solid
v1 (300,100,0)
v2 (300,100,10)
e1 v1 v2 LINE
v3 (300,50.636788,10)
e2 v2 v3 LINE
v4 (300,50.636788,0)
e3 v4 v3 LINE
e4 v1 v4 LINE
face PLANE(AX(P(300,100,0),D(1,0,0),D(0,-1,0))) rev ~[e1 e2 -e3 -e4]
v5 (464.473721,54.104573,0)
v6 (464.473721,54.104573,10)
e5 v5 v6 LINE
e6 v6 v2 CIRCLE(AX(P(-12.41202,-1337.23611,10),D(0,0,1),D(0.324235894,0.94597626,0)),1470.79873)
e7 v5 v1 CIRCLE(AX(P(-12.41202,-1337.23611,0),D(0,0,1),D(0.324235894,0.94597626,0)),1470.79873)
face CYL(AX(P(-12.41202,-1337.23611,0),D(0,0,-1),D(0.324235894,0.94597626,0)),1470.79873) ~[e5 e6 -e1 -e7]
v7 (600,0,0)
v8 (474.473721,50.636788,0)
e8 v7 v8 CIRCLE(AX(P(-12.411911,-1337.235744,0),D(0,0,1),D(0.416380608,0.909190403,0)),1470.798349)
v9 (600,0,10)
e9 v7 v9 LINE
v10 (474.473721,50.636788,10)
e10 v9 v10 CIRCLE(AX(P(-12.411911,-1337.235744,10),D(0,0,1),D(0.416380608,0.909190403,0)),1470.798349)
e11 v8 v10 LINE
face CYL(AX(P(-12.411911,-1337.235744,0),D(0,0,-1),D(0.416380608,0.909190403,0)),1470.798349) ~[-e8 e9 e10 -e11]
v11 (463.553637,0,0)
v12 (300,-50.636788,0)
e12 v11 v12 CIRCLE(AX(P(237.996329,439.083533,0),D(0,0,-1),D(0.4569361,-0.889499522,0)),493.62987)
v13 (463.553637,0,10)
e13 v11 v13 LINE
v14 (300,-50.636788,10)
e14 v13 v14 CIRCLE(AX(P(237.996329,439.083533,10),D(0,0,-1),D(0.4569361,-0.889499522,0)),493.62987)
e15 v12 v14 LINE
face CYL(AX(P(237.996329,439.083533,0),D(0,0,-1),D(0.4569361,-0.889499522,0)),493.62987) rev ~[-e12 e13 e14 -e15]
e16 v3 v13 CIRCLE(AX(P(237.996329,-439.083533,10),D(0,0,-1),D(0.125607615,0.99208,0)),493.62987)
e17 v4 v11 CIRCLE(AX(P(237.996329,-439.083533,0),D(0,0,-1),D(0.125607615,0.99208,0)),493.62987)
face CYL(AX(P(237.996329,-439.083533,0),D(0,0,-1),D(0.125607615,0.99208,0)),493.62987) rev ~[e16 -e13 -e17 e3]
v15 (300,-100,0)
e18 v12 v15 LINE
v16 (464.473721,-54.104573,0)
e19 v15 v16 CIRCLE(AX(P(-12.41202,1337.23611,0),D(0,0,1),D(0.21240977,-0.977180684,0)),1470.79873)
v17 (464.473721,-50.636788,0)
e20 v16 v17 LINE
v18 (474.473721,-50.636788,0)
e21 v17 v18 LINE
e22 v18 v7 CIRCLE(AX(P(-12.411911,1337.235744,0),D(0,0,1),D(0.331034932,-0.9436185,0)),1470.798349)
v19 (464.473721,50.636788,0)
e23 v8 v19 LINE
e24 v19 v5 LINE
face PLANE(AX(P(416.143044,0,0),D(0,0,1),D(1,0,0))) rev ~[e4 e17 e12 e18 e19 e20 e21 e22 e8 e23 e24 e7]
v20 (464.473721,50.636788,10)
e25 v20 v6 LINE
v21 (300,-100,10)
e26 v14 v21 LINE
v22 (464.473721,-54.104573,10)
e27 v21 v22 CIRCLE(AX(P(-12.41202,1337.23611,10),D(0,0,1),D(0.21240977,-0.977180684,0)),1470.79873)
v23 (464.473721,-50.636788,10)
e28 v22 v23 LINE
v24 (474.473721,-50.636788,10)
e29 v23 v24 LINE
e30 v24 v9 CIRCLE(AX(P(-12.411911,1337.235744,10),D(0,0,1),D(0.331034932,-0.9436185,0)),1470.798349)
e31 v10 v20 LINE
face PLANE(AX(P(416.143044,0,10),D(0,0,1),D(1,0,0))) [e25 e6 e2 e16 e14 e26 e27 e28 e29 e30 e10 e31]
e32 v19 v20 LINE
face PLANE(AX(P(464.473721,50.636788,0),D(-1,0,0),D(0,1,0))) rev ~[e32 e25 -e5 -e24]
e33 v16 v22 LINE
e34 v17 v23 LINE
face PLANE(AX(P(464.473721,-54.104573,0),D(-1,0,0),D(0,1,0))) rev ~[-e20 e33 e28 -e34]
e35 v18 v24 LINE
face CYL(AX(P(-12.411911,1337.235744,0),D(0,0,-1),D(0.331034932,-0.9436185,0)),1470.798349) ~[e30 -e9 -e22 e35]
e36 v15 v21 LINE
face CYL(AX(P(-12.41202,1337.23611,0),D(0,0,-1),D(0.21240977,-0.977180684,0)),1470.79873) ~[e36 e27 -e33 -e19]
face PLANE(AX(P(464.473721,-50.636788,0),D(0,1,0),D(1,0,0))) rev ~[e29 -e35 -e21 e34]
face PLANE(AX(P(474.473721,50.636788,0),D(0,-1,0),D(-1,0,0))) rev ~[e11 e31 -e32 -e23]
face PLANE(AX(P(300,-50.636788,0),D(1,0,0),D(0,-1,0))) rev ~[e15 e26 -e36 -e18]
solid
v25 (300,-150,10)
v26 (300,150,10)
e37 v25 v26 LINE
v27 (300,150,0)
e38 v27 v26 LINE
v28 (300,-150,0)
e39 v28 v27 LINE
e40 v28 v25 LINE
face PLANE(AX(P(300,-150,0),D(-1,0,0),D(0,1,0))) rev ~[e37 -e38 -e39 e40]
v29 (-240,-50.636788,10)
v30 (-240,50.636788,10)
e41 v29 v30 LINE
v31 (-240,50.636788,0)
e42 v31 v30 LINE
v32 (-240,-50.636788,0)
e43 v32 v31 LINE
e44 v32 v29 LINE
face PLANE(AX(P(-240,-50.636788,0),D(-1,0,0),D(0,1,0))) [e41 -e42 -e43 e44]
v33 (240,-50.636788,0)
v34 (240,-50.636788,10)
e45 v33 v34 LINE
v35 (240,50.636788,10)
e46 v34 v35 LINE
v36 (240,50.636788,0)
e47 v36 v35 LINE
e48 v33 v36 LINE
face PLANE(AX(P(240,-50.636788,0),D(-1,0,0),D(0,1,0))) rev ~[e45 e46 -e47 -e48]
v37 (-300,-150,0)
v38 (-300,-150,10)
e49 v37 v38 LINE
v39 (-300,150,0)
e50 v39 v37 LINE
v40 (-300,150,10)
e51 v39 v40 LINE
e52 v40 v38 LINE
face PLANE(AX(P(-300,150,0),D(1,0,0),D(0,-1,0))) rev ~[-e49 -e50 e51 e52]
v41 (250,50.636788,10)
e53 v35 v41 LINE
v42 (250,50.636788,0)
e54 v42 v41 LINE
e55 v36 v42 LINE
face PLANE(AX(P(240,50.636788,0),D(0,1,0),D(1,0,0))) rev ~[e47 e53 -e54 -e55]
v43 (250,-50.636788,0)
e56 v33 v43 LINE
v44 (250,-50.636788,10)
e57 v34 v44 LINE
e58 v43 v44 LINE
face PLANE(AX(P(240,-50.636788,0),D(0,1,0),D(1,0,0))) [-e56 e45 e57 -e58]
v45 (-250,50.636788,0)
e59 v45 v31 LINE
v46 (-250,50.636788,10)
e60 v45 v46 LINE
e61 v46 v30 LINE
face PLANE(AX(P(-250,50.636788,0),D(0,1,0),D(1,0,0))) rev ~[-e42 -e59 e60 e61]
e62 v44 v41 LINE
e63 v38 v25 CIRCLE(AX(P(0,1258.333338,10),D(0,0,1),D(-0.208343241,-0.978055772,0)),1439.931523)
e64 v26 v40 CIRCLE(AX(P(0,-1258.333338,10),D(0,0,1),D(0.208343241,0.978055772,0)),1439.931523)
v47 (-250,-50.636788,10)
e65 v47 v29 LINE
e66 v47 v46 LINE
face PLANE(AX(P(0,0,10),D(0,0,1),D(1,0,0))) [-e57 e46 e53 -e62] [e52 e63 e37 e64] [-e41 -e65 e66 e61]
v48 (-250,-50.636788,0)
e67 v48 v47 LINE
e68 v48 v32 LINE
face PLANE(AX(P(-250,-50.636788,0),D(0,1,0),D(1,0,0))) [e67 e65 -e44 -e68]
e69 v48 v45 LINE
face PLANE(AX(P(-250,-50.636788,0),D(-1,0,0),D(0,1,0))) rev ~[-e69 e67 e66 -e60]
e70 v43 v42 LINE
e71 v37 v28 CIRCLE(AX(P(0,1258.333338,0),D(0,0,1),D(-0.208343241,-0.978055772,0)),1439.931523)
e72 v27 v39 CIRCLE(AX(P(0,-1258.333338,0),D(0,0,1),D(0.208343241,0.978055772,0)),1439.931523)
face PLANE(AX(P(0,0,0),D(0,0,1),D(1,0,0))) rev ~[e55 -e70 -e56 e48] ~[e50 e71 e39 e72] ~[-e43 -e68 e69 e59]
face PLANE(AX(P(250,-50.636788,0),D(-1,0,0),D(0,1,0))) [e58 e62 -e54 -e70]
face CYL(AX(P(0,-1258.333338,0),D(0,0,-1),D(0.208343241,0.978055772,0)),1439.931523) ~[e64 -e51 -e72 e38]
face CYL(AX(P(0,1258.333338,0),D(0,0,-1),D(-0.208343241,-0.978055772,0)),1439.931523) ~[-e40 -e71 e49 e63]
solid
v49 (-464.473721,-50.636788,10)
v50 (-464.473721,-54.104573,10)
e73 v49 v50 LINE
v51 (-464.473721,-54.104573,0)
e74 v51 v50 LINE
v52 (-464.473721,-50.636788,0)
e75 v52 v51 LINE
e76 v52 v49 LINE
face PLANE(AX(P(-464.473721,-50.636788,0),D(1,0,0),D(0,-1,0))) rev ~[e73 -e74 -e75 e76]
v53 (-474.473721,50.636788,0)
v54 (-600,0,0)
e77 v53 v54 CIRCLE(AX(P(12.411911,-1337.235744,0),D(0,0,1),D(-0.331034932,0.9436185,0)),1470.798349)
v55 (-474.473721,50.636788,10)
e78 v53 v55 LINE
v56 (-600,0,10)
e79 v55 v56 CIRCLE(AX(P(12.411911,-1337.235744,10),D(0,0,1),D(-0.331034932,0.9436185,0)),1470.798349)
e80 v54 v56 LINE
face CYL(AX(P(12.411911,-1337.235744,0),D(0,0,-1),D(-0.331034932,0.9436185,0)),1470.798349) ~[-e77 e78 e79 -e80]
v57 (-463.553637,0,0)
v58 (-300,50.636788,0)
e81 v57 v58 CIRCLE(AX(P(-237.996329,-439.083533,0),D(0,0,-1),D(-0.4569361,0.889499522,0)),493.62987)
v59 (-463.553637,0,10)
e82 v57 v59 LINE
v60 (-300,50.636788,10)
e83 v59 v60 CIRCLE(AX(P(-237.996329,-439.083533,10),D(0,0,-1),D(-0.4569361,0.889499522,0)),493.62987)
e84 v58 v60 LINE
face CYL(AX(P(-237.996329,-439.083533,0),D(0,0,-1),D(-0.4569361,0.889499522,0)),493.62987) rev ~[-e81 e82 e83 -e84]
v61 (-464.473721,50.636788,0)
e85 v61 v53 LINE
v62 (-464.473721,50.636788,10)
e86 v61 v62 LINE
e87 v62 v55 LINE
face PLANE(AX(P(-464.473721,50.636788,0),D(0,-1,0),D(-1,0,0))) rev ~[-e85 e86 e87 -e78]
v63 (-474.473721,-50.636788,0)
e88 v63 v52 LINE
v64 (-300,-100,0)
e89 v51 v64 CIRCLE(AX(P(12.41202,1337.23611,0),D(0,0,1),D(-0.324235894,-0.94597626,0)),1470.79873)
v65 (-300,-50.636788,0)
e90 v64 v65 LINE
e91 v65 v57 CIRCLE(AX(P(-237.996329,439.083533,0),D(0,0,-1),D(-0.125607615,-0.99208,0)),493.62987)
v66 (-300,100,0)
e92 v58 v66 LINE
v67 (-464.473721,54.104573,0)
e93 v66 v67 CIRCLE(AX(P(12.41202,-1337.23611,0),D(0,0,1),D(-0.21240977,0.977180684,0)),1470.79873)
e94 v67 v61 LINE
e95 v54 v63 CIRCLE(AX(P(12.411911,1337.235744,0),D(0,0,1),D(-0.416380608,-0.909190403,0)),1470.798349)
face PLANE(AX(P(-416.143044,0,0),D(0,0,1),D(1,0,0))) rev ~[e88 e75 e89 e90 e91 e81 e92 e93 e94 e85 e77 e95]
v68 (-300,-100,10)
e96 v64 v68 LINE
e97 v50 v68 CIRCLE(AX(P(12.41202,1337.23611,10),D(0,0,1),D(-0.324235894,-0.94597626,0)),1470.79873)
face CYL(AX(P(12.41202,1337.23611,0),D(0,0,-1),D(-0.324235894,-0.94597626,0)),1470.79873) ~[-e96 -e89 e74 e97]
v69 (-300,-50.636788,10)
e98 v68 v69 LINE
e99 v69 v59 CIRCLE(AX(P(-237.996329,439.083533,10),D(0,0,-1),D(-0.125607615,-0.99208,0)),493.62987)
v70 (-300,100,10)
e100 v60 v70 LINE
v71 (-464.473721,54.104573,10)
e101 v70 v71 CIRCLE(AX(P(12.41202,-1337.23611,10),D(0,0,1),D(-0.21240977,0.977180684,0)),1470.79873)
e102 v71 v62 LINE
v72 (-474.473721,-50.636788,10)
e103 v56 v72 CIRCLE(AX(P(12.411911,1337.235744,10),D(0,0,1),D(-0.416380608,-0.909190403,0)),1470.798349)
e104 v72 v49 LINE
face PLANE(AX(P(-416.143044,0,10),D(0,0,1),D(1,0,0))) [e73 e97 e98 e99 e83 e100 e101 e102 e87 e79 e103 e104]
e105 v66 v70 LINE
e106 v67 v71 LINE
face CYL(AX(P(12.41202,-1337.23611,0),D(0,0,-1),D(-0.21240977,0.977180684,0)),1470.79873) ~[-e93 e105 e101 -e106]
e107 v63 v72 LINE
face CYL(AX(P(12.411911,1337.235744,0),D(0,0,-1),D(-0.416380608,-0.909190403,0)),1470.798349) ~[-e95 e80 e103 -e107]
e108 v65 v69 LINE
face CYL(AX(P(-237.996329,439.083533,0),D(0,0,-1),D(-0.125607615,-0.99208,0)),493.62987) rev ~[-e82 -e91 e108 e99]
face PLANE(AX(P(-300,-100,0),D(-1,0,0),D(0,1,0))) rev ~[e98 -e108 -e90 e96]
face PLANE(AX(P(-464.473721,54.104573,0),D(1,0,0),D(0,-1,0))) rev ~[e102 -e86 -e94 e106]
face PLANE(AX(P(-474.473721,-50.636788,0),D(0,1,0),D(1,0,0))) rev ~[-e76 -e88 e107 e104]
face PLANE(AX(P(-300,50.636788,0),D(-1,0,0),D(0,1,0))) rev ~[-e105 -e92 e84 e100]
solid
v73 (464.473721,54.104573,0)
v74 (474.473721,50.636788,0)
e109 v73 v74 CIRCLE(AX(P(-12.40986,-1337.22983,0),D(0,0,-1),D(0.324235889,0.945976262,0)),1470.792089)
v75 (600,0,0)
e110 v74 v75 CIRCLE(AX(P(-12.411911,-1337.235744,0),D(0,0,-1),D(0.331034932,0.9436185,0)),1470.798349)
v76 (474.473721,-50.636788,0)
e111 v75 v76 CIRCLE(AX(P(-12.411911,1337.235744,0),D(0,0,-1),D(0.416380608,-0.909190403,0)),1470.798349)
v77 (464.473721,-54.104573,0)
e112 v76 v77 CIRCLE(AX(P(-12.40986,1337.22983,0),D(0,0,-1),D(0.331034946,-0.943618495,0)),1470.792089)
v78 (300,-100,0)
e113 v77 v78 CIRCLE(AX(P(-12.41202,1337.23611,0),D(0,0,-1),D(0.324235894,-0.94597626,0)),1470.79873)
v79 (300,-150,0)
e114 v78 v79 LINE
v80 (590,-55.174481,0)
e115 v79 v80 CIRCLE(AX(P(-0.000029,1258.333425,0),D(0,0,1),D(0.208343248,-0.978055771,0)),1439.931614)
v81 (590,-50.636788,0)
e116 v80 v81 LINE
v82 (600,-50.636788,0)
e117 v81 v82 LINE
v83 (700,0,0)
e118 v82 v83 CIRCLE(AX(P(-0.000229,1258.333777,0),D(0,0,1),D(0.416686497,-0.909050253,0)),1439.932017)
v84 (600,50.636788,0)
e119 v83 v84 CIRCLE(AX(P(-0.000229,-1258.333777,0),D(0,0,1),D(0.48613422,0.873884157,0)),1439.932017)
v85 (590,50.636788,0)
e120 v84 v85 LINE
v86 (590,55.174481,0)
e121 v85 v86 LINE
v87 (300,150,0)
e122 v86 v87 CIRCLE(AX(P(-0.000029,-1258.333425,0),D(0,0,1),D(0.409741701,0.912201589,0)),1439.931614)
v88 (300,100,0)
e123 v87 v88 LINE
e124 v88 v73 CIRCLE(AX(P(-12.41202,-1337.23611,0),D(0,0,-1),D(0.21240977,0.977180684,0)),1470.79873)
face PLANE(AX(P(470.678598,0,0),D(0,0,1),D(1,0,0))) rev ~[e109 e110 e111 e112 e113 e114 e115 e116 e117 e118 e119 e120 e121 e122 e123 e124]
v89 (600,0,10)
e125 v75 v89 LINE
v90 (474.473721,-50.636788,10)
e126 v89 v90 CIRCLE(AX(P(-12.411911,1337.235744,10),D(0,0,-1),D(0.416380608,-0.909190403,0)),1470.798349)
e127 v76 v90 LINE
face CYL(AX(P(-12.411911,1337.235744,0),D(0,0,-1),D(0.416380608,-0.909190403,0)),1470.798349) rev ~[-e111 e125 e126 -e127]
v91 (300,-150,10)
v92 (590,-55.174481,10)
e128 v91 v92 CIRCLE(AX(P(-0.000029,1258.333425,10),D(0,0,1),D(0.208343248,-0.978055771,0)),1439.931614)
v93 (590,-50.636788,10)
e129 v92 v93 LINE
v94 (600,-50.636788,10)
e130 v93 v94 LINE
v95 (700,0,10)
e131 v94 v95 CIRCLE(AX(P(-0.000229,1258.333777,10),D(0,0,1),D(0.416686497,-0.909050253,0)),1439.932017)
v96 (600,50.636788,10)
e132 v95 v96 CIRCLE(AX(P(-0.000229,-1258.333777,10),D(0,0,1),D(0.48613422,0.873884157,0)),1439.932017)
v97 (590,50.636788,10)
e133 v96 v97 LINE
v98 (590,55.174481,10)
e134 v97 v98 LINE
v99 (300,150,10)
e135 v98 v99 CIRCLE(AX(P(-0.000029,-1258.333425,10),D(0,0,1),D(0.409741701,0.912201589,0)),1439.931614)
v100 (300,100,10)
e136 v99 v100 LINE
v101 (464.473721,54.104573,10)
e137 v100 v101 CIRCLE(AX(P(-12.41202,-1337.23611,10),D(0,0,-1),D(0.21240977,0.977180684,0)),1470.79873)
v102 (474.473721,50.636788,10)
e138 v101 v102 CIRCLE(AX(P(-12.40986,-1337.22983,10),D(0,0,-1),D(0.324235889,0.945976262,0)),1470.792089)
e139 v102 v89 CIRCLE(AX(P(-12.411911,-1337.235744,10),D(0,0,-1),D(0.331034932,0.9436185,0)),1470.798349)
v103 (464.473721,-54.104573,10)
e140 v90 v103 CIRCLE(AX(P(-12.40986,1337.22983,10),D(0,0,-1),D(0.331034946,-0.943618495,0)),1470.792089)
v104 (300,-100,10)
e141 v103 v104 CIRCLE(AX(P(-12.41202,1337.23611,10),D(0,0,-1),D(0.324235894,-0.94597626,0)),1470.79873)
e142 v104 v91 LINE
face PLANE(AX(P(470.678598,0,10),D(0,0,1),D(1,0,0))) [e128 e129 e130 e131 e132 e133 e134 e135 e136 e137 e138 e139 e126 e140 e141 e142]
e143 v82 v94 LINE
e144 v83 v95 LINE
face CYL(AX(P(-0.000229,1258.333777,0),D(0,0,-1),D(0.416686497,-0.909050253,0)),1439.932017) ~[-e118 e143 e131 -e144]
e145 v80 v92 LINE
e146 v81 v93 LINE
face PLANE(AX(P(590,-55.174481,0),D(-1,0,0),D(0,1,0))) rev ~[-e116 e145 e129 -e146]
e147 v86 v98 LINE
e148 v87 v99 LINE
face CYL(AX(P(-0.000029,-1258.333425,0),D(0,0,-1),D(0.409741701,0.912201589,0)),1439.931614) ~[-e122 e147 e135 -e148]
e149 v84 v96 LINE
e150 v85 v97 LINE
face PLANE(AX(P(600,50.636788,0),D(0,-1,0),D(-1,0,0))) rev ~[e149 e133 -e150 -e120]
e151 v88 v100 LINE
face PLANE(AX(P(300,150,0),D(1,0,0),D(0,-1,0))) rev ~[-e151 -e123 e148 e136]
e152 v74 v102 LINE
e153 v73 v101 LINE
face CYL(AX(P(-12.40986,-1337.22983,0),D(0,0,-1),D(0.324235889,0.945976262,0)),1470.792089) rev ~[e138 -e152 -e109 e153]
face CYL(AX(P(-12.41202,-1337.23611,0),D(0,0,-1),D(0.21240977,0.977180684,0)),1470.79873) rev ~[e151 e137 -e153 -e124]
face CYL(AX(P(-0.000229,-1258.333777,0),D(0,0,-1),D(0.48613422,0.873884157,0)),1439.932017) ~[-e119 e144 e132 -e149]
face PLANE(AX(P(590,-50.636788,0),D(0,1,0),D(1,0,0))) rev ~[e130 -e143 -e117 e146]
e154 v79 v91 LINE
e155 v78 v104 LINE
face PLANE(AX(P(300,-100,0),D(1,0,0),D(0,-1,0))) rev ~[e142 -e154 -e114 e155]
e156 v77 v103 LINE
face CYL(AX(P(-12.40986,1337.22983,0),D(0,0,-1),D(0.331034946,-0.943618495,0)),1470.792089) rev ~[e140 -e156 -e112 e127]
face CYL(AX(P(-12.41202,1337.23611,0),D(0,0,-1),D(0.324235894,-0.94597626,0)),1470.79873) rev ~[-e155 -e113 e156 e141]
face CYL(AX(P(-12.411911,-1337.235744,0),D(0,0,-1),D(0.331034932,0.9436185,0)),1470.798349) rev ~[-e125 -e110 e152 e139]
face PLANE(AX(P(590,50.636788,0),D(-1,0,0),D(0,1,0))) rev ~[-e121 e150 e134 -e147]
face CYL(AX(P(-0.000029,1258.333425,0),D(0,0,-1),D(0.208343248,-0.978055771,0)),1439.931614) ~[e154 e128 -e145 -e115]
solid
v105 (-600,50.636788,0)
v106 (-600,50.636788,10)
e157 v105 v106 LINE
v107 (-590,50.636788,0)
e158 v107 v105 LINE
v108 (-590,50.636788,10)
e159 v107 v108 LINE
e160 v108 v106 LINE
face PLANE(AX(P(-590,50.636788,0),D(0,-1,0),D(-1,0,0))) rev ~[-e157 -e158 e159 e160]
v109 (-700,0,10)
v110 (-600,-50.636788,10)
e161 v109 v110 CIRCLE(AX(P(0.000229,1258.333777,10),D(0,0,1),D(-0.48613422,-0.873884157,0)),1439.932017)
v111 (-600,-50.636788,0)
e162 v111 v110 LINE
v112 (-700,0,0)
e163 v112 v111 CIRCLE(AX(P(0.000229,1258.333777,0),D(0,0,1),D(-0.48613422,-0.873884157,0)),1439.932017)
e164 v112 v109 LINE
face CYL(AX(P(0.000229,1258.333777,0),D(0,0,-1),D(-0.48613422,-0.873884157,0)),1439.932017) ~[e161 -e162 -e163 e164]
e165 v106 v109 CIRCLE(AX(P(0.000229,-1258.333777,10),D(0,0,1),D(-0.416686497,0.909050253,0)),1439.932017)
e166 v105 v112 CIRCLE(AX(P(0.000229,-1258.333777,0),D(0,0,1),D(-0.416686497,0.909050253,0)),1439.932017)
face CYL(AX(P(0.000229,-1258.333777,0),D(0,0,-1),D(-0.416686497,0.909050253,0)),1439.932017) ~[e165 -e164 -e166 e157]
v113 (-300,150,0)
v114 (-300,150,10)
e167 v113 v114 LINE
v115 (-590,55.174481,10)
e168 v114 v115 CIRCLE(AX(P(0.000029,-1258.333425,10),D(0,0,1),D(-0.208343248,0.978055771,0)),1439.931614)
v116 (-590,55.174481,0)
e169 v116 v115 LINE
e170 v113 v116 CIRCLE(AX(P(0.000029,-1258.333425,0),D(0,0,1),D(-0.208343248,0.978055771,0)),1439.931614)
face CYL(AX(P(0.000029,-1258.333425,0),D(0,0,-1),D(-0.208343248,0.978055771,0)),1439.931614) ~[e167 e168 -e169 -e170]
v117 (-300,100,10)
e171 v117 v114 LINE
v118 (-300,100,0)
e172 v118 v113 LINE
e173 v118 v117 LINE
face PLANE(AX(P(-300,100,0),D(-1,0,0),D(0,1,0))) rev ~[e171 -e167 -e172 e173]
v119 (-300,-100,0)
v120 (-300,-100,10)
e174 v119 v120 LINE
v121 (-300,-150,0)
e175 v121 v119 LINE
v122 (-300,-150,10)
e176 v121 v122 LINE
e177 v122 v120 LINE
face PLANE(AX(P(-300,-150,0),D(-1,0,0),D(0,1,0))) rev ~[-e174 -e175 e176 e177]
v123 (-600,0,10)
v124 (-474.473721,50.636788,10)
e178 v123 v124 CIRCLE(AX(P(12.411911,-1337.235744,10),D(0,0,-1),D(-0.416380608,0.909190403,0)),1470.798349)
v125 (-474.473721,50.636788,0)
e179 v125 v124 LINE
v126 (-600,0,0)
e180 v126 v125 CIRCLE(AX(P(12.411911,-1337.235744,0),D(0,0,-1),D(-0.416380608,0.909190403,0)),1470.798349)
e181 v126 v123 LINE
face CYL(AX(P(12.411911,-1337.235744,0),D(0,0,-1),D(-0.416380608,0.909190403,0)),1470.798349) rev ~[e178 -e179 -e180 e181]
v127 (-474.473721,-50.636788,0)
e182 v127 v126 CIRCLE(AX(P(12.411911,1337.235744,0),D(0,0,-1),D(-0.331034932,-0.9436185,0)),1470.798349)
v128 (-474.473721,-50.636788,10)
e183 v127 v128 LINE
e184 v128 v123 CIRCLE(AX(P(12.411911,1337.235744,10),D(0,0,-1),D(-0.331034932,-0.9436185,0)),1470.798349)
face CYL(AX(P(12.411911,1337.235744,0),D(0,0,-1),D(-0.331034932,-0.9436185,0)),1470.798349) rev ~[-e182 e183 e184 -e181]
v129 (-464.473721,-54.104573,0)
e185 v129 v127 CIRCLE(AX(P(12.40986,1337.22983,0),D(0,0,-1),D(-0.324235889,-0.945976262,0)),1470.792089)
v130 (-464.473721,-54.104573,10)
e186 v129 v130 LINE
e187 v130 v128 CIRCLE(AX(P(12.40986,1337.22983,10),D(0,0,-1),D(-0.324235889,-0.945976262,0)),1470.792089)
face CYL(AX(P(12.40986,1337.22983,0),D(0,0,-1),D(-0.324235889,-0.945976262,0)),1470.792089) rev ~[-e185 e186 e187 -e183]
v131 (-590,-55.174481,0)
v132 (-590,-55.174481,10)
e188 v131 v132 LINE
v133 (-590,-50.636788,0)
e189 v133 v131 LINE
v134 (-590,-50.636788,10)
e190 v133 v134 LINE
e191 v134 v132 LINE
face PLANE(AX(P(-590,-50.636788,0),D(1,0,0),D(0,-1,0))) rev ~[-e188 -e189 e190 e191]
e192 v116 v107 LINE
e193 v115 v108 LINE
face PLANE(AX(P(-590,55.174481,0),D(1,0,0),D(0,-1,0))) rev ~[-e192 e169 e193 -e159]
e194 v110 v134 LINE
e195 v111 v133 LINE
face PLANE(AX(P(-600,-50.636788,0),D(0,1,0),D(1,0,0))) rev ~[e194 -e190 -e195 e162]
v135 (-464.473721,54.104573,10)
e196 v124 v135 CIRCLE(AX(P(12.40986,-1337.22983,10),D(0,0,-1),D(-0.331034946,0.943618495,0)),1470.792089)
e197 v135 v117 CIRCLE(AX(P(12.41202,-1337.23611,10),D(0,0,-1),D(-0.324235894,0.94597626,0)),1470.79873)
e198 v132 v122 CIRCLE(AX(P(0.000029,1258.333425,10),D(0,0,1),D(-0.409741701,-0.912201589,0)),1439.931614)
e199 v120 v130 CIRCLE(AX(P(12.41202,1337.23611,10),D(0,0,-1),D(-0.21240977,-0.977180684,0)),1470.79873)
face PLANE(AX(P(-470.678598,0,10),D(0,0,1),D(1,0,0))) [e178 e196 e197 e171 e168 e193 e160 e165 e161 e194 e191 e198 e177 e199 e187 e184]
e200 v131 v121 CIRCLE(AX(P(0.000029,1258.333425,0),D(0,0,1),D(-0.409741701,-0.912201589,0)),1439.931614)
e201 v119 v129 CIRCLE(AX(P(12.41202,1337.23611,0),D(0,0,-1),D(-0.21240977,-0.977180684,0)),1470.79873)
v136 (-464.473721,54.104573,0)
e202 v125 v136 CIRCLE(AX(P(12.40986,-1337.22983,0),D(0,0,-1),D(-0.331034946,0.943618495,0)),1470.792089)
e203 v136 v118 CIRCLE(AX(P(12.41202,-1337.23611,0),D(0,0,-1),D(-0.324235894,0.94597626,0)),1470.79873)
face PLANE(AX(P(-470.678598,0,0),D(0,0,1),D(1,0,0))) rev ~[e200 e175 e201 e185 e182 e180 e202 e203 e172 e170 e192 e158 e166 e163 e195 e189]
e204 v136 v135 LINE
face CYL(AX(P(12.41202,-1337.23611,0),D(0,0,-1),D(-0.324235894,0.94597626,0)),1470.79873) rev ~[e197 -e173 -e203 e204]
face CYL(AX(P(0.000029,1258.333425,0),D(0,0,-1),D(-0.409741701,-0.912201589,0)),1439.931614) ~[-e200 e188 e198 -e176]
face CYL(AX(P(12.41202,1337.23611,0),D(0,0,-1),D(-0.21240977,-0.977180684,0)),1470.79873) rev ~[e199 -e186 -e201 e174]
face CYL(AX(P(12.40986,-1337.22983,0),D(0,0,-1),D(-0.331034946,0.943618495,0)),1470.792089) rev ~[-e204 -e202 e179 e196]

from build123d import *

# Parameters (mm, degrees)
F1_DEPTH = 10
F0_W     = 10
F0_H     = 101.273576
F2_DEPTH = 10
F3_DEPTH = 10


with BuildPart() as f1:
    # F0 (on Top) → F1 (new body)
    with BuildSketch(Plane.XY):
        with BuildLine():
            ThreePointArc((590, 55.174481), (447.518681, 110.289992), (300, 150))
            Line((300, 150), (300, 100))
            ThreePointArc((300, 100), (382.90347, 79.441189), (464.473721, 54.104573))
            ThreePointArc((464.473721, 54.104573), (469.47684, 52.379676), (474.473721, 50.636788))
            ThreePointArc((474.473721, 50.636788), (537.81967, 26.763153), (600, 0))
            ThreePointArc((600, 0), (537.81967, -26.763153), (474.473721, -50.636788))
            ThreePointArc((474.473721, -50.636788), (469.47684, -52.379676), (464.473721, -54.104573))
            ThreePointArc((464.473721, -54.104573), (382.90347, -79.441189), (300, -100))
            Line((300, -100), (300, -150))
            ThreePointArc((300, -150), (447.518681, -110.289992), (590, -55.174481))
            Line((590, -55.174481), (590, -50.636788))
            Line((590, -50.636788), (600, -50.636788))
            ThreePointArc((600, -50.636788), (650.492906, -26.291809), (700, 0))
            ThreePointArc((700, 0), (650.492906, 26.291809), (600, 50.636788))
            Line((600, 50.636788), (590, 50.636788))
            Line((590, 50.636788), (590, 55.174481))
        make_face()
        with BuildLine():
            Line((-300, 100), (-300, 150))
            ThreePointArc((-300, 150), (-447.518681, 110.289992), (-590, 55.174481))
            Line((-590, 55.174481), (-590, 50.636788))
            Line((-590, 50.636788), (-600, 50.636788))
            ThreePointArc((-600, 50.636788), (-650.492906, 26.291809), (-700, 0))
            ThreePointArc((-700, 0), (-650.492906, -26.291809), (-600, -50.636788))
            Line((-600, -50.636788), (-590, -50.636788))
            Line((-590, -50.636788), (-590, -55.174481))
            ThreePointArc((-590, -55.174481), (-447.518681, -110.289992), (-300, -150))
            Line((-300, -150), (-300, -100))
            ThreePointArc((-300, -100), (-382.90347, -79.441189), (-464.473721, -54.104573))
            ThreePointArc((-464.473721, -54.104573), (-469.47684, -52.379676), (-474.473721, -50.636788))
            ThreePointArc((-474.473721, -50.636788), (-537.81967, -26.763153), (-600, 0))
            ThreePointArc((-600, 0), (-537.81967, 26.763153), (-474.473721, 50.636788))
            ThreePointArc((-474.473721, 50.636788), (-469.47684, 52.379676), (-464.473721, 54.104573))
            ThreePointArc((-464.473721, 54.104573), (-382.90347, 79.441189), (-300, 100))
        make_face()
    extrude(amount=F1_DEPTH)


with BuildPart() as f2:
    # F0 (on Top) → F2 (new body)
    with BuildSketch(Plane.XY):
        with BuildLine():
            Line((300, 100), (300, 150))
            ThreePointArc((300, 150), (0, 181.598185), (-300, 150))
            Line((-300, 150), (-300, 100))
            Line((-300, 100), (-300, 50.636788))
            Line((-300, 50.636788), (-300, -50.636788))
            Line((-300, -50.636788), (-300, -100))
            Line((-300, -100), (-300, -150))
            ThreePointArc((-300, -150), (0, -181.598185), (300, -150))
            Line((300, -150), (300, -100))
            Line((300, -100), (300, -50.636788))
            Line((300, -50.636788), (300, 50.636788))
            Line((300, 50.636788), (300, 100))
        make_face()
        with Locations((-245, 0)):
            Rectangle(F0_W, F0_H, mode=Mode.SUBTRACT)
        with Locations((245, 0)):
            Rectangle(F0_W, F0_H, mode=Mode.SUBTRACT)
    extrude(amount=F2_DEPTH)


with BuildPart() as f3:
    # F0 (on Top) → F3 (new body)
    with BuildSketch(Plane.XY):
        with BuildLine():
            Line((-300, 50.636788), (-300, 100))
            ThreePointArc((-300, 100), (-382.90347, 79.441189), (-464.473721, 54.104573))
            Line((-464.473721, 54.104573), (-464.473721, 50.636788))
            Line((-464.473721, 50.636788), (-474.473721, 50.636788))
            ThreePointArc((-474.473721, 50.636788), (-537.81967, 26.763153), (-600, 0))
            ThreePointArc((-600, 0), (-537.81967, -26.763153), (-474.473721, -50.636788))
            Line((-474.473721, -50.636788), (-464.473721, -50.636788))
            Line((-464.473721, -50.636788), (-464.473721, -54.104573))
            ThreePointArc((-464.473721, -54.104573), (-382.90347, -79.441189), (-300, -100))
            Line((-300, -100), (-300, -50.636788))
            ThreePointArc((-300, -50.636788), (-383.988967, -32.463493), (-463.553637, 0))
            ThreePointArc((-463.553637, 0), (-383.988967, 32.463493), (-300, 50.636788))
        make_face()
        with BuildLine():
            ThreePointArc((464.473721, 54.104573), (382.90347, 79.441189), (300, 100))
            Line((300, 100), (300, 50.636788))
            ThreePointArc((300, 50.636788), (383.988967, 32.463493), (463.553637, 0))
            ThreePointArc((463.553637, 0), (383.988967, -32.463493), (300, -50.636788))
            Line((300, -50.636788), (300, -100))
            ThreePointArc((300, -100), (382.90347, -79.441189), (464.473721, -54.104573))
            Line((464.473721, -54.104573), (464.473721, -50.636788))
            Line((464.473721, -50.636788), (474.473721, -50.636788))
            ThreePointArc((474.473721, -50.636788), (537.81967, -26.763153), (600, 0))
            ThreePointArc((600, 0), (537.81967, 26.763153), (474.473721, 50.636788))
            Line((474.473721, 50.636788), (464.473721, 50.636788))
            Line((464.473721, 50.636788), (464.473721, 54.104573))
        make_face()
    extrude(amount=F3_DEPTH)


solid = Compound([f1.part, f2.part, f3.part])
